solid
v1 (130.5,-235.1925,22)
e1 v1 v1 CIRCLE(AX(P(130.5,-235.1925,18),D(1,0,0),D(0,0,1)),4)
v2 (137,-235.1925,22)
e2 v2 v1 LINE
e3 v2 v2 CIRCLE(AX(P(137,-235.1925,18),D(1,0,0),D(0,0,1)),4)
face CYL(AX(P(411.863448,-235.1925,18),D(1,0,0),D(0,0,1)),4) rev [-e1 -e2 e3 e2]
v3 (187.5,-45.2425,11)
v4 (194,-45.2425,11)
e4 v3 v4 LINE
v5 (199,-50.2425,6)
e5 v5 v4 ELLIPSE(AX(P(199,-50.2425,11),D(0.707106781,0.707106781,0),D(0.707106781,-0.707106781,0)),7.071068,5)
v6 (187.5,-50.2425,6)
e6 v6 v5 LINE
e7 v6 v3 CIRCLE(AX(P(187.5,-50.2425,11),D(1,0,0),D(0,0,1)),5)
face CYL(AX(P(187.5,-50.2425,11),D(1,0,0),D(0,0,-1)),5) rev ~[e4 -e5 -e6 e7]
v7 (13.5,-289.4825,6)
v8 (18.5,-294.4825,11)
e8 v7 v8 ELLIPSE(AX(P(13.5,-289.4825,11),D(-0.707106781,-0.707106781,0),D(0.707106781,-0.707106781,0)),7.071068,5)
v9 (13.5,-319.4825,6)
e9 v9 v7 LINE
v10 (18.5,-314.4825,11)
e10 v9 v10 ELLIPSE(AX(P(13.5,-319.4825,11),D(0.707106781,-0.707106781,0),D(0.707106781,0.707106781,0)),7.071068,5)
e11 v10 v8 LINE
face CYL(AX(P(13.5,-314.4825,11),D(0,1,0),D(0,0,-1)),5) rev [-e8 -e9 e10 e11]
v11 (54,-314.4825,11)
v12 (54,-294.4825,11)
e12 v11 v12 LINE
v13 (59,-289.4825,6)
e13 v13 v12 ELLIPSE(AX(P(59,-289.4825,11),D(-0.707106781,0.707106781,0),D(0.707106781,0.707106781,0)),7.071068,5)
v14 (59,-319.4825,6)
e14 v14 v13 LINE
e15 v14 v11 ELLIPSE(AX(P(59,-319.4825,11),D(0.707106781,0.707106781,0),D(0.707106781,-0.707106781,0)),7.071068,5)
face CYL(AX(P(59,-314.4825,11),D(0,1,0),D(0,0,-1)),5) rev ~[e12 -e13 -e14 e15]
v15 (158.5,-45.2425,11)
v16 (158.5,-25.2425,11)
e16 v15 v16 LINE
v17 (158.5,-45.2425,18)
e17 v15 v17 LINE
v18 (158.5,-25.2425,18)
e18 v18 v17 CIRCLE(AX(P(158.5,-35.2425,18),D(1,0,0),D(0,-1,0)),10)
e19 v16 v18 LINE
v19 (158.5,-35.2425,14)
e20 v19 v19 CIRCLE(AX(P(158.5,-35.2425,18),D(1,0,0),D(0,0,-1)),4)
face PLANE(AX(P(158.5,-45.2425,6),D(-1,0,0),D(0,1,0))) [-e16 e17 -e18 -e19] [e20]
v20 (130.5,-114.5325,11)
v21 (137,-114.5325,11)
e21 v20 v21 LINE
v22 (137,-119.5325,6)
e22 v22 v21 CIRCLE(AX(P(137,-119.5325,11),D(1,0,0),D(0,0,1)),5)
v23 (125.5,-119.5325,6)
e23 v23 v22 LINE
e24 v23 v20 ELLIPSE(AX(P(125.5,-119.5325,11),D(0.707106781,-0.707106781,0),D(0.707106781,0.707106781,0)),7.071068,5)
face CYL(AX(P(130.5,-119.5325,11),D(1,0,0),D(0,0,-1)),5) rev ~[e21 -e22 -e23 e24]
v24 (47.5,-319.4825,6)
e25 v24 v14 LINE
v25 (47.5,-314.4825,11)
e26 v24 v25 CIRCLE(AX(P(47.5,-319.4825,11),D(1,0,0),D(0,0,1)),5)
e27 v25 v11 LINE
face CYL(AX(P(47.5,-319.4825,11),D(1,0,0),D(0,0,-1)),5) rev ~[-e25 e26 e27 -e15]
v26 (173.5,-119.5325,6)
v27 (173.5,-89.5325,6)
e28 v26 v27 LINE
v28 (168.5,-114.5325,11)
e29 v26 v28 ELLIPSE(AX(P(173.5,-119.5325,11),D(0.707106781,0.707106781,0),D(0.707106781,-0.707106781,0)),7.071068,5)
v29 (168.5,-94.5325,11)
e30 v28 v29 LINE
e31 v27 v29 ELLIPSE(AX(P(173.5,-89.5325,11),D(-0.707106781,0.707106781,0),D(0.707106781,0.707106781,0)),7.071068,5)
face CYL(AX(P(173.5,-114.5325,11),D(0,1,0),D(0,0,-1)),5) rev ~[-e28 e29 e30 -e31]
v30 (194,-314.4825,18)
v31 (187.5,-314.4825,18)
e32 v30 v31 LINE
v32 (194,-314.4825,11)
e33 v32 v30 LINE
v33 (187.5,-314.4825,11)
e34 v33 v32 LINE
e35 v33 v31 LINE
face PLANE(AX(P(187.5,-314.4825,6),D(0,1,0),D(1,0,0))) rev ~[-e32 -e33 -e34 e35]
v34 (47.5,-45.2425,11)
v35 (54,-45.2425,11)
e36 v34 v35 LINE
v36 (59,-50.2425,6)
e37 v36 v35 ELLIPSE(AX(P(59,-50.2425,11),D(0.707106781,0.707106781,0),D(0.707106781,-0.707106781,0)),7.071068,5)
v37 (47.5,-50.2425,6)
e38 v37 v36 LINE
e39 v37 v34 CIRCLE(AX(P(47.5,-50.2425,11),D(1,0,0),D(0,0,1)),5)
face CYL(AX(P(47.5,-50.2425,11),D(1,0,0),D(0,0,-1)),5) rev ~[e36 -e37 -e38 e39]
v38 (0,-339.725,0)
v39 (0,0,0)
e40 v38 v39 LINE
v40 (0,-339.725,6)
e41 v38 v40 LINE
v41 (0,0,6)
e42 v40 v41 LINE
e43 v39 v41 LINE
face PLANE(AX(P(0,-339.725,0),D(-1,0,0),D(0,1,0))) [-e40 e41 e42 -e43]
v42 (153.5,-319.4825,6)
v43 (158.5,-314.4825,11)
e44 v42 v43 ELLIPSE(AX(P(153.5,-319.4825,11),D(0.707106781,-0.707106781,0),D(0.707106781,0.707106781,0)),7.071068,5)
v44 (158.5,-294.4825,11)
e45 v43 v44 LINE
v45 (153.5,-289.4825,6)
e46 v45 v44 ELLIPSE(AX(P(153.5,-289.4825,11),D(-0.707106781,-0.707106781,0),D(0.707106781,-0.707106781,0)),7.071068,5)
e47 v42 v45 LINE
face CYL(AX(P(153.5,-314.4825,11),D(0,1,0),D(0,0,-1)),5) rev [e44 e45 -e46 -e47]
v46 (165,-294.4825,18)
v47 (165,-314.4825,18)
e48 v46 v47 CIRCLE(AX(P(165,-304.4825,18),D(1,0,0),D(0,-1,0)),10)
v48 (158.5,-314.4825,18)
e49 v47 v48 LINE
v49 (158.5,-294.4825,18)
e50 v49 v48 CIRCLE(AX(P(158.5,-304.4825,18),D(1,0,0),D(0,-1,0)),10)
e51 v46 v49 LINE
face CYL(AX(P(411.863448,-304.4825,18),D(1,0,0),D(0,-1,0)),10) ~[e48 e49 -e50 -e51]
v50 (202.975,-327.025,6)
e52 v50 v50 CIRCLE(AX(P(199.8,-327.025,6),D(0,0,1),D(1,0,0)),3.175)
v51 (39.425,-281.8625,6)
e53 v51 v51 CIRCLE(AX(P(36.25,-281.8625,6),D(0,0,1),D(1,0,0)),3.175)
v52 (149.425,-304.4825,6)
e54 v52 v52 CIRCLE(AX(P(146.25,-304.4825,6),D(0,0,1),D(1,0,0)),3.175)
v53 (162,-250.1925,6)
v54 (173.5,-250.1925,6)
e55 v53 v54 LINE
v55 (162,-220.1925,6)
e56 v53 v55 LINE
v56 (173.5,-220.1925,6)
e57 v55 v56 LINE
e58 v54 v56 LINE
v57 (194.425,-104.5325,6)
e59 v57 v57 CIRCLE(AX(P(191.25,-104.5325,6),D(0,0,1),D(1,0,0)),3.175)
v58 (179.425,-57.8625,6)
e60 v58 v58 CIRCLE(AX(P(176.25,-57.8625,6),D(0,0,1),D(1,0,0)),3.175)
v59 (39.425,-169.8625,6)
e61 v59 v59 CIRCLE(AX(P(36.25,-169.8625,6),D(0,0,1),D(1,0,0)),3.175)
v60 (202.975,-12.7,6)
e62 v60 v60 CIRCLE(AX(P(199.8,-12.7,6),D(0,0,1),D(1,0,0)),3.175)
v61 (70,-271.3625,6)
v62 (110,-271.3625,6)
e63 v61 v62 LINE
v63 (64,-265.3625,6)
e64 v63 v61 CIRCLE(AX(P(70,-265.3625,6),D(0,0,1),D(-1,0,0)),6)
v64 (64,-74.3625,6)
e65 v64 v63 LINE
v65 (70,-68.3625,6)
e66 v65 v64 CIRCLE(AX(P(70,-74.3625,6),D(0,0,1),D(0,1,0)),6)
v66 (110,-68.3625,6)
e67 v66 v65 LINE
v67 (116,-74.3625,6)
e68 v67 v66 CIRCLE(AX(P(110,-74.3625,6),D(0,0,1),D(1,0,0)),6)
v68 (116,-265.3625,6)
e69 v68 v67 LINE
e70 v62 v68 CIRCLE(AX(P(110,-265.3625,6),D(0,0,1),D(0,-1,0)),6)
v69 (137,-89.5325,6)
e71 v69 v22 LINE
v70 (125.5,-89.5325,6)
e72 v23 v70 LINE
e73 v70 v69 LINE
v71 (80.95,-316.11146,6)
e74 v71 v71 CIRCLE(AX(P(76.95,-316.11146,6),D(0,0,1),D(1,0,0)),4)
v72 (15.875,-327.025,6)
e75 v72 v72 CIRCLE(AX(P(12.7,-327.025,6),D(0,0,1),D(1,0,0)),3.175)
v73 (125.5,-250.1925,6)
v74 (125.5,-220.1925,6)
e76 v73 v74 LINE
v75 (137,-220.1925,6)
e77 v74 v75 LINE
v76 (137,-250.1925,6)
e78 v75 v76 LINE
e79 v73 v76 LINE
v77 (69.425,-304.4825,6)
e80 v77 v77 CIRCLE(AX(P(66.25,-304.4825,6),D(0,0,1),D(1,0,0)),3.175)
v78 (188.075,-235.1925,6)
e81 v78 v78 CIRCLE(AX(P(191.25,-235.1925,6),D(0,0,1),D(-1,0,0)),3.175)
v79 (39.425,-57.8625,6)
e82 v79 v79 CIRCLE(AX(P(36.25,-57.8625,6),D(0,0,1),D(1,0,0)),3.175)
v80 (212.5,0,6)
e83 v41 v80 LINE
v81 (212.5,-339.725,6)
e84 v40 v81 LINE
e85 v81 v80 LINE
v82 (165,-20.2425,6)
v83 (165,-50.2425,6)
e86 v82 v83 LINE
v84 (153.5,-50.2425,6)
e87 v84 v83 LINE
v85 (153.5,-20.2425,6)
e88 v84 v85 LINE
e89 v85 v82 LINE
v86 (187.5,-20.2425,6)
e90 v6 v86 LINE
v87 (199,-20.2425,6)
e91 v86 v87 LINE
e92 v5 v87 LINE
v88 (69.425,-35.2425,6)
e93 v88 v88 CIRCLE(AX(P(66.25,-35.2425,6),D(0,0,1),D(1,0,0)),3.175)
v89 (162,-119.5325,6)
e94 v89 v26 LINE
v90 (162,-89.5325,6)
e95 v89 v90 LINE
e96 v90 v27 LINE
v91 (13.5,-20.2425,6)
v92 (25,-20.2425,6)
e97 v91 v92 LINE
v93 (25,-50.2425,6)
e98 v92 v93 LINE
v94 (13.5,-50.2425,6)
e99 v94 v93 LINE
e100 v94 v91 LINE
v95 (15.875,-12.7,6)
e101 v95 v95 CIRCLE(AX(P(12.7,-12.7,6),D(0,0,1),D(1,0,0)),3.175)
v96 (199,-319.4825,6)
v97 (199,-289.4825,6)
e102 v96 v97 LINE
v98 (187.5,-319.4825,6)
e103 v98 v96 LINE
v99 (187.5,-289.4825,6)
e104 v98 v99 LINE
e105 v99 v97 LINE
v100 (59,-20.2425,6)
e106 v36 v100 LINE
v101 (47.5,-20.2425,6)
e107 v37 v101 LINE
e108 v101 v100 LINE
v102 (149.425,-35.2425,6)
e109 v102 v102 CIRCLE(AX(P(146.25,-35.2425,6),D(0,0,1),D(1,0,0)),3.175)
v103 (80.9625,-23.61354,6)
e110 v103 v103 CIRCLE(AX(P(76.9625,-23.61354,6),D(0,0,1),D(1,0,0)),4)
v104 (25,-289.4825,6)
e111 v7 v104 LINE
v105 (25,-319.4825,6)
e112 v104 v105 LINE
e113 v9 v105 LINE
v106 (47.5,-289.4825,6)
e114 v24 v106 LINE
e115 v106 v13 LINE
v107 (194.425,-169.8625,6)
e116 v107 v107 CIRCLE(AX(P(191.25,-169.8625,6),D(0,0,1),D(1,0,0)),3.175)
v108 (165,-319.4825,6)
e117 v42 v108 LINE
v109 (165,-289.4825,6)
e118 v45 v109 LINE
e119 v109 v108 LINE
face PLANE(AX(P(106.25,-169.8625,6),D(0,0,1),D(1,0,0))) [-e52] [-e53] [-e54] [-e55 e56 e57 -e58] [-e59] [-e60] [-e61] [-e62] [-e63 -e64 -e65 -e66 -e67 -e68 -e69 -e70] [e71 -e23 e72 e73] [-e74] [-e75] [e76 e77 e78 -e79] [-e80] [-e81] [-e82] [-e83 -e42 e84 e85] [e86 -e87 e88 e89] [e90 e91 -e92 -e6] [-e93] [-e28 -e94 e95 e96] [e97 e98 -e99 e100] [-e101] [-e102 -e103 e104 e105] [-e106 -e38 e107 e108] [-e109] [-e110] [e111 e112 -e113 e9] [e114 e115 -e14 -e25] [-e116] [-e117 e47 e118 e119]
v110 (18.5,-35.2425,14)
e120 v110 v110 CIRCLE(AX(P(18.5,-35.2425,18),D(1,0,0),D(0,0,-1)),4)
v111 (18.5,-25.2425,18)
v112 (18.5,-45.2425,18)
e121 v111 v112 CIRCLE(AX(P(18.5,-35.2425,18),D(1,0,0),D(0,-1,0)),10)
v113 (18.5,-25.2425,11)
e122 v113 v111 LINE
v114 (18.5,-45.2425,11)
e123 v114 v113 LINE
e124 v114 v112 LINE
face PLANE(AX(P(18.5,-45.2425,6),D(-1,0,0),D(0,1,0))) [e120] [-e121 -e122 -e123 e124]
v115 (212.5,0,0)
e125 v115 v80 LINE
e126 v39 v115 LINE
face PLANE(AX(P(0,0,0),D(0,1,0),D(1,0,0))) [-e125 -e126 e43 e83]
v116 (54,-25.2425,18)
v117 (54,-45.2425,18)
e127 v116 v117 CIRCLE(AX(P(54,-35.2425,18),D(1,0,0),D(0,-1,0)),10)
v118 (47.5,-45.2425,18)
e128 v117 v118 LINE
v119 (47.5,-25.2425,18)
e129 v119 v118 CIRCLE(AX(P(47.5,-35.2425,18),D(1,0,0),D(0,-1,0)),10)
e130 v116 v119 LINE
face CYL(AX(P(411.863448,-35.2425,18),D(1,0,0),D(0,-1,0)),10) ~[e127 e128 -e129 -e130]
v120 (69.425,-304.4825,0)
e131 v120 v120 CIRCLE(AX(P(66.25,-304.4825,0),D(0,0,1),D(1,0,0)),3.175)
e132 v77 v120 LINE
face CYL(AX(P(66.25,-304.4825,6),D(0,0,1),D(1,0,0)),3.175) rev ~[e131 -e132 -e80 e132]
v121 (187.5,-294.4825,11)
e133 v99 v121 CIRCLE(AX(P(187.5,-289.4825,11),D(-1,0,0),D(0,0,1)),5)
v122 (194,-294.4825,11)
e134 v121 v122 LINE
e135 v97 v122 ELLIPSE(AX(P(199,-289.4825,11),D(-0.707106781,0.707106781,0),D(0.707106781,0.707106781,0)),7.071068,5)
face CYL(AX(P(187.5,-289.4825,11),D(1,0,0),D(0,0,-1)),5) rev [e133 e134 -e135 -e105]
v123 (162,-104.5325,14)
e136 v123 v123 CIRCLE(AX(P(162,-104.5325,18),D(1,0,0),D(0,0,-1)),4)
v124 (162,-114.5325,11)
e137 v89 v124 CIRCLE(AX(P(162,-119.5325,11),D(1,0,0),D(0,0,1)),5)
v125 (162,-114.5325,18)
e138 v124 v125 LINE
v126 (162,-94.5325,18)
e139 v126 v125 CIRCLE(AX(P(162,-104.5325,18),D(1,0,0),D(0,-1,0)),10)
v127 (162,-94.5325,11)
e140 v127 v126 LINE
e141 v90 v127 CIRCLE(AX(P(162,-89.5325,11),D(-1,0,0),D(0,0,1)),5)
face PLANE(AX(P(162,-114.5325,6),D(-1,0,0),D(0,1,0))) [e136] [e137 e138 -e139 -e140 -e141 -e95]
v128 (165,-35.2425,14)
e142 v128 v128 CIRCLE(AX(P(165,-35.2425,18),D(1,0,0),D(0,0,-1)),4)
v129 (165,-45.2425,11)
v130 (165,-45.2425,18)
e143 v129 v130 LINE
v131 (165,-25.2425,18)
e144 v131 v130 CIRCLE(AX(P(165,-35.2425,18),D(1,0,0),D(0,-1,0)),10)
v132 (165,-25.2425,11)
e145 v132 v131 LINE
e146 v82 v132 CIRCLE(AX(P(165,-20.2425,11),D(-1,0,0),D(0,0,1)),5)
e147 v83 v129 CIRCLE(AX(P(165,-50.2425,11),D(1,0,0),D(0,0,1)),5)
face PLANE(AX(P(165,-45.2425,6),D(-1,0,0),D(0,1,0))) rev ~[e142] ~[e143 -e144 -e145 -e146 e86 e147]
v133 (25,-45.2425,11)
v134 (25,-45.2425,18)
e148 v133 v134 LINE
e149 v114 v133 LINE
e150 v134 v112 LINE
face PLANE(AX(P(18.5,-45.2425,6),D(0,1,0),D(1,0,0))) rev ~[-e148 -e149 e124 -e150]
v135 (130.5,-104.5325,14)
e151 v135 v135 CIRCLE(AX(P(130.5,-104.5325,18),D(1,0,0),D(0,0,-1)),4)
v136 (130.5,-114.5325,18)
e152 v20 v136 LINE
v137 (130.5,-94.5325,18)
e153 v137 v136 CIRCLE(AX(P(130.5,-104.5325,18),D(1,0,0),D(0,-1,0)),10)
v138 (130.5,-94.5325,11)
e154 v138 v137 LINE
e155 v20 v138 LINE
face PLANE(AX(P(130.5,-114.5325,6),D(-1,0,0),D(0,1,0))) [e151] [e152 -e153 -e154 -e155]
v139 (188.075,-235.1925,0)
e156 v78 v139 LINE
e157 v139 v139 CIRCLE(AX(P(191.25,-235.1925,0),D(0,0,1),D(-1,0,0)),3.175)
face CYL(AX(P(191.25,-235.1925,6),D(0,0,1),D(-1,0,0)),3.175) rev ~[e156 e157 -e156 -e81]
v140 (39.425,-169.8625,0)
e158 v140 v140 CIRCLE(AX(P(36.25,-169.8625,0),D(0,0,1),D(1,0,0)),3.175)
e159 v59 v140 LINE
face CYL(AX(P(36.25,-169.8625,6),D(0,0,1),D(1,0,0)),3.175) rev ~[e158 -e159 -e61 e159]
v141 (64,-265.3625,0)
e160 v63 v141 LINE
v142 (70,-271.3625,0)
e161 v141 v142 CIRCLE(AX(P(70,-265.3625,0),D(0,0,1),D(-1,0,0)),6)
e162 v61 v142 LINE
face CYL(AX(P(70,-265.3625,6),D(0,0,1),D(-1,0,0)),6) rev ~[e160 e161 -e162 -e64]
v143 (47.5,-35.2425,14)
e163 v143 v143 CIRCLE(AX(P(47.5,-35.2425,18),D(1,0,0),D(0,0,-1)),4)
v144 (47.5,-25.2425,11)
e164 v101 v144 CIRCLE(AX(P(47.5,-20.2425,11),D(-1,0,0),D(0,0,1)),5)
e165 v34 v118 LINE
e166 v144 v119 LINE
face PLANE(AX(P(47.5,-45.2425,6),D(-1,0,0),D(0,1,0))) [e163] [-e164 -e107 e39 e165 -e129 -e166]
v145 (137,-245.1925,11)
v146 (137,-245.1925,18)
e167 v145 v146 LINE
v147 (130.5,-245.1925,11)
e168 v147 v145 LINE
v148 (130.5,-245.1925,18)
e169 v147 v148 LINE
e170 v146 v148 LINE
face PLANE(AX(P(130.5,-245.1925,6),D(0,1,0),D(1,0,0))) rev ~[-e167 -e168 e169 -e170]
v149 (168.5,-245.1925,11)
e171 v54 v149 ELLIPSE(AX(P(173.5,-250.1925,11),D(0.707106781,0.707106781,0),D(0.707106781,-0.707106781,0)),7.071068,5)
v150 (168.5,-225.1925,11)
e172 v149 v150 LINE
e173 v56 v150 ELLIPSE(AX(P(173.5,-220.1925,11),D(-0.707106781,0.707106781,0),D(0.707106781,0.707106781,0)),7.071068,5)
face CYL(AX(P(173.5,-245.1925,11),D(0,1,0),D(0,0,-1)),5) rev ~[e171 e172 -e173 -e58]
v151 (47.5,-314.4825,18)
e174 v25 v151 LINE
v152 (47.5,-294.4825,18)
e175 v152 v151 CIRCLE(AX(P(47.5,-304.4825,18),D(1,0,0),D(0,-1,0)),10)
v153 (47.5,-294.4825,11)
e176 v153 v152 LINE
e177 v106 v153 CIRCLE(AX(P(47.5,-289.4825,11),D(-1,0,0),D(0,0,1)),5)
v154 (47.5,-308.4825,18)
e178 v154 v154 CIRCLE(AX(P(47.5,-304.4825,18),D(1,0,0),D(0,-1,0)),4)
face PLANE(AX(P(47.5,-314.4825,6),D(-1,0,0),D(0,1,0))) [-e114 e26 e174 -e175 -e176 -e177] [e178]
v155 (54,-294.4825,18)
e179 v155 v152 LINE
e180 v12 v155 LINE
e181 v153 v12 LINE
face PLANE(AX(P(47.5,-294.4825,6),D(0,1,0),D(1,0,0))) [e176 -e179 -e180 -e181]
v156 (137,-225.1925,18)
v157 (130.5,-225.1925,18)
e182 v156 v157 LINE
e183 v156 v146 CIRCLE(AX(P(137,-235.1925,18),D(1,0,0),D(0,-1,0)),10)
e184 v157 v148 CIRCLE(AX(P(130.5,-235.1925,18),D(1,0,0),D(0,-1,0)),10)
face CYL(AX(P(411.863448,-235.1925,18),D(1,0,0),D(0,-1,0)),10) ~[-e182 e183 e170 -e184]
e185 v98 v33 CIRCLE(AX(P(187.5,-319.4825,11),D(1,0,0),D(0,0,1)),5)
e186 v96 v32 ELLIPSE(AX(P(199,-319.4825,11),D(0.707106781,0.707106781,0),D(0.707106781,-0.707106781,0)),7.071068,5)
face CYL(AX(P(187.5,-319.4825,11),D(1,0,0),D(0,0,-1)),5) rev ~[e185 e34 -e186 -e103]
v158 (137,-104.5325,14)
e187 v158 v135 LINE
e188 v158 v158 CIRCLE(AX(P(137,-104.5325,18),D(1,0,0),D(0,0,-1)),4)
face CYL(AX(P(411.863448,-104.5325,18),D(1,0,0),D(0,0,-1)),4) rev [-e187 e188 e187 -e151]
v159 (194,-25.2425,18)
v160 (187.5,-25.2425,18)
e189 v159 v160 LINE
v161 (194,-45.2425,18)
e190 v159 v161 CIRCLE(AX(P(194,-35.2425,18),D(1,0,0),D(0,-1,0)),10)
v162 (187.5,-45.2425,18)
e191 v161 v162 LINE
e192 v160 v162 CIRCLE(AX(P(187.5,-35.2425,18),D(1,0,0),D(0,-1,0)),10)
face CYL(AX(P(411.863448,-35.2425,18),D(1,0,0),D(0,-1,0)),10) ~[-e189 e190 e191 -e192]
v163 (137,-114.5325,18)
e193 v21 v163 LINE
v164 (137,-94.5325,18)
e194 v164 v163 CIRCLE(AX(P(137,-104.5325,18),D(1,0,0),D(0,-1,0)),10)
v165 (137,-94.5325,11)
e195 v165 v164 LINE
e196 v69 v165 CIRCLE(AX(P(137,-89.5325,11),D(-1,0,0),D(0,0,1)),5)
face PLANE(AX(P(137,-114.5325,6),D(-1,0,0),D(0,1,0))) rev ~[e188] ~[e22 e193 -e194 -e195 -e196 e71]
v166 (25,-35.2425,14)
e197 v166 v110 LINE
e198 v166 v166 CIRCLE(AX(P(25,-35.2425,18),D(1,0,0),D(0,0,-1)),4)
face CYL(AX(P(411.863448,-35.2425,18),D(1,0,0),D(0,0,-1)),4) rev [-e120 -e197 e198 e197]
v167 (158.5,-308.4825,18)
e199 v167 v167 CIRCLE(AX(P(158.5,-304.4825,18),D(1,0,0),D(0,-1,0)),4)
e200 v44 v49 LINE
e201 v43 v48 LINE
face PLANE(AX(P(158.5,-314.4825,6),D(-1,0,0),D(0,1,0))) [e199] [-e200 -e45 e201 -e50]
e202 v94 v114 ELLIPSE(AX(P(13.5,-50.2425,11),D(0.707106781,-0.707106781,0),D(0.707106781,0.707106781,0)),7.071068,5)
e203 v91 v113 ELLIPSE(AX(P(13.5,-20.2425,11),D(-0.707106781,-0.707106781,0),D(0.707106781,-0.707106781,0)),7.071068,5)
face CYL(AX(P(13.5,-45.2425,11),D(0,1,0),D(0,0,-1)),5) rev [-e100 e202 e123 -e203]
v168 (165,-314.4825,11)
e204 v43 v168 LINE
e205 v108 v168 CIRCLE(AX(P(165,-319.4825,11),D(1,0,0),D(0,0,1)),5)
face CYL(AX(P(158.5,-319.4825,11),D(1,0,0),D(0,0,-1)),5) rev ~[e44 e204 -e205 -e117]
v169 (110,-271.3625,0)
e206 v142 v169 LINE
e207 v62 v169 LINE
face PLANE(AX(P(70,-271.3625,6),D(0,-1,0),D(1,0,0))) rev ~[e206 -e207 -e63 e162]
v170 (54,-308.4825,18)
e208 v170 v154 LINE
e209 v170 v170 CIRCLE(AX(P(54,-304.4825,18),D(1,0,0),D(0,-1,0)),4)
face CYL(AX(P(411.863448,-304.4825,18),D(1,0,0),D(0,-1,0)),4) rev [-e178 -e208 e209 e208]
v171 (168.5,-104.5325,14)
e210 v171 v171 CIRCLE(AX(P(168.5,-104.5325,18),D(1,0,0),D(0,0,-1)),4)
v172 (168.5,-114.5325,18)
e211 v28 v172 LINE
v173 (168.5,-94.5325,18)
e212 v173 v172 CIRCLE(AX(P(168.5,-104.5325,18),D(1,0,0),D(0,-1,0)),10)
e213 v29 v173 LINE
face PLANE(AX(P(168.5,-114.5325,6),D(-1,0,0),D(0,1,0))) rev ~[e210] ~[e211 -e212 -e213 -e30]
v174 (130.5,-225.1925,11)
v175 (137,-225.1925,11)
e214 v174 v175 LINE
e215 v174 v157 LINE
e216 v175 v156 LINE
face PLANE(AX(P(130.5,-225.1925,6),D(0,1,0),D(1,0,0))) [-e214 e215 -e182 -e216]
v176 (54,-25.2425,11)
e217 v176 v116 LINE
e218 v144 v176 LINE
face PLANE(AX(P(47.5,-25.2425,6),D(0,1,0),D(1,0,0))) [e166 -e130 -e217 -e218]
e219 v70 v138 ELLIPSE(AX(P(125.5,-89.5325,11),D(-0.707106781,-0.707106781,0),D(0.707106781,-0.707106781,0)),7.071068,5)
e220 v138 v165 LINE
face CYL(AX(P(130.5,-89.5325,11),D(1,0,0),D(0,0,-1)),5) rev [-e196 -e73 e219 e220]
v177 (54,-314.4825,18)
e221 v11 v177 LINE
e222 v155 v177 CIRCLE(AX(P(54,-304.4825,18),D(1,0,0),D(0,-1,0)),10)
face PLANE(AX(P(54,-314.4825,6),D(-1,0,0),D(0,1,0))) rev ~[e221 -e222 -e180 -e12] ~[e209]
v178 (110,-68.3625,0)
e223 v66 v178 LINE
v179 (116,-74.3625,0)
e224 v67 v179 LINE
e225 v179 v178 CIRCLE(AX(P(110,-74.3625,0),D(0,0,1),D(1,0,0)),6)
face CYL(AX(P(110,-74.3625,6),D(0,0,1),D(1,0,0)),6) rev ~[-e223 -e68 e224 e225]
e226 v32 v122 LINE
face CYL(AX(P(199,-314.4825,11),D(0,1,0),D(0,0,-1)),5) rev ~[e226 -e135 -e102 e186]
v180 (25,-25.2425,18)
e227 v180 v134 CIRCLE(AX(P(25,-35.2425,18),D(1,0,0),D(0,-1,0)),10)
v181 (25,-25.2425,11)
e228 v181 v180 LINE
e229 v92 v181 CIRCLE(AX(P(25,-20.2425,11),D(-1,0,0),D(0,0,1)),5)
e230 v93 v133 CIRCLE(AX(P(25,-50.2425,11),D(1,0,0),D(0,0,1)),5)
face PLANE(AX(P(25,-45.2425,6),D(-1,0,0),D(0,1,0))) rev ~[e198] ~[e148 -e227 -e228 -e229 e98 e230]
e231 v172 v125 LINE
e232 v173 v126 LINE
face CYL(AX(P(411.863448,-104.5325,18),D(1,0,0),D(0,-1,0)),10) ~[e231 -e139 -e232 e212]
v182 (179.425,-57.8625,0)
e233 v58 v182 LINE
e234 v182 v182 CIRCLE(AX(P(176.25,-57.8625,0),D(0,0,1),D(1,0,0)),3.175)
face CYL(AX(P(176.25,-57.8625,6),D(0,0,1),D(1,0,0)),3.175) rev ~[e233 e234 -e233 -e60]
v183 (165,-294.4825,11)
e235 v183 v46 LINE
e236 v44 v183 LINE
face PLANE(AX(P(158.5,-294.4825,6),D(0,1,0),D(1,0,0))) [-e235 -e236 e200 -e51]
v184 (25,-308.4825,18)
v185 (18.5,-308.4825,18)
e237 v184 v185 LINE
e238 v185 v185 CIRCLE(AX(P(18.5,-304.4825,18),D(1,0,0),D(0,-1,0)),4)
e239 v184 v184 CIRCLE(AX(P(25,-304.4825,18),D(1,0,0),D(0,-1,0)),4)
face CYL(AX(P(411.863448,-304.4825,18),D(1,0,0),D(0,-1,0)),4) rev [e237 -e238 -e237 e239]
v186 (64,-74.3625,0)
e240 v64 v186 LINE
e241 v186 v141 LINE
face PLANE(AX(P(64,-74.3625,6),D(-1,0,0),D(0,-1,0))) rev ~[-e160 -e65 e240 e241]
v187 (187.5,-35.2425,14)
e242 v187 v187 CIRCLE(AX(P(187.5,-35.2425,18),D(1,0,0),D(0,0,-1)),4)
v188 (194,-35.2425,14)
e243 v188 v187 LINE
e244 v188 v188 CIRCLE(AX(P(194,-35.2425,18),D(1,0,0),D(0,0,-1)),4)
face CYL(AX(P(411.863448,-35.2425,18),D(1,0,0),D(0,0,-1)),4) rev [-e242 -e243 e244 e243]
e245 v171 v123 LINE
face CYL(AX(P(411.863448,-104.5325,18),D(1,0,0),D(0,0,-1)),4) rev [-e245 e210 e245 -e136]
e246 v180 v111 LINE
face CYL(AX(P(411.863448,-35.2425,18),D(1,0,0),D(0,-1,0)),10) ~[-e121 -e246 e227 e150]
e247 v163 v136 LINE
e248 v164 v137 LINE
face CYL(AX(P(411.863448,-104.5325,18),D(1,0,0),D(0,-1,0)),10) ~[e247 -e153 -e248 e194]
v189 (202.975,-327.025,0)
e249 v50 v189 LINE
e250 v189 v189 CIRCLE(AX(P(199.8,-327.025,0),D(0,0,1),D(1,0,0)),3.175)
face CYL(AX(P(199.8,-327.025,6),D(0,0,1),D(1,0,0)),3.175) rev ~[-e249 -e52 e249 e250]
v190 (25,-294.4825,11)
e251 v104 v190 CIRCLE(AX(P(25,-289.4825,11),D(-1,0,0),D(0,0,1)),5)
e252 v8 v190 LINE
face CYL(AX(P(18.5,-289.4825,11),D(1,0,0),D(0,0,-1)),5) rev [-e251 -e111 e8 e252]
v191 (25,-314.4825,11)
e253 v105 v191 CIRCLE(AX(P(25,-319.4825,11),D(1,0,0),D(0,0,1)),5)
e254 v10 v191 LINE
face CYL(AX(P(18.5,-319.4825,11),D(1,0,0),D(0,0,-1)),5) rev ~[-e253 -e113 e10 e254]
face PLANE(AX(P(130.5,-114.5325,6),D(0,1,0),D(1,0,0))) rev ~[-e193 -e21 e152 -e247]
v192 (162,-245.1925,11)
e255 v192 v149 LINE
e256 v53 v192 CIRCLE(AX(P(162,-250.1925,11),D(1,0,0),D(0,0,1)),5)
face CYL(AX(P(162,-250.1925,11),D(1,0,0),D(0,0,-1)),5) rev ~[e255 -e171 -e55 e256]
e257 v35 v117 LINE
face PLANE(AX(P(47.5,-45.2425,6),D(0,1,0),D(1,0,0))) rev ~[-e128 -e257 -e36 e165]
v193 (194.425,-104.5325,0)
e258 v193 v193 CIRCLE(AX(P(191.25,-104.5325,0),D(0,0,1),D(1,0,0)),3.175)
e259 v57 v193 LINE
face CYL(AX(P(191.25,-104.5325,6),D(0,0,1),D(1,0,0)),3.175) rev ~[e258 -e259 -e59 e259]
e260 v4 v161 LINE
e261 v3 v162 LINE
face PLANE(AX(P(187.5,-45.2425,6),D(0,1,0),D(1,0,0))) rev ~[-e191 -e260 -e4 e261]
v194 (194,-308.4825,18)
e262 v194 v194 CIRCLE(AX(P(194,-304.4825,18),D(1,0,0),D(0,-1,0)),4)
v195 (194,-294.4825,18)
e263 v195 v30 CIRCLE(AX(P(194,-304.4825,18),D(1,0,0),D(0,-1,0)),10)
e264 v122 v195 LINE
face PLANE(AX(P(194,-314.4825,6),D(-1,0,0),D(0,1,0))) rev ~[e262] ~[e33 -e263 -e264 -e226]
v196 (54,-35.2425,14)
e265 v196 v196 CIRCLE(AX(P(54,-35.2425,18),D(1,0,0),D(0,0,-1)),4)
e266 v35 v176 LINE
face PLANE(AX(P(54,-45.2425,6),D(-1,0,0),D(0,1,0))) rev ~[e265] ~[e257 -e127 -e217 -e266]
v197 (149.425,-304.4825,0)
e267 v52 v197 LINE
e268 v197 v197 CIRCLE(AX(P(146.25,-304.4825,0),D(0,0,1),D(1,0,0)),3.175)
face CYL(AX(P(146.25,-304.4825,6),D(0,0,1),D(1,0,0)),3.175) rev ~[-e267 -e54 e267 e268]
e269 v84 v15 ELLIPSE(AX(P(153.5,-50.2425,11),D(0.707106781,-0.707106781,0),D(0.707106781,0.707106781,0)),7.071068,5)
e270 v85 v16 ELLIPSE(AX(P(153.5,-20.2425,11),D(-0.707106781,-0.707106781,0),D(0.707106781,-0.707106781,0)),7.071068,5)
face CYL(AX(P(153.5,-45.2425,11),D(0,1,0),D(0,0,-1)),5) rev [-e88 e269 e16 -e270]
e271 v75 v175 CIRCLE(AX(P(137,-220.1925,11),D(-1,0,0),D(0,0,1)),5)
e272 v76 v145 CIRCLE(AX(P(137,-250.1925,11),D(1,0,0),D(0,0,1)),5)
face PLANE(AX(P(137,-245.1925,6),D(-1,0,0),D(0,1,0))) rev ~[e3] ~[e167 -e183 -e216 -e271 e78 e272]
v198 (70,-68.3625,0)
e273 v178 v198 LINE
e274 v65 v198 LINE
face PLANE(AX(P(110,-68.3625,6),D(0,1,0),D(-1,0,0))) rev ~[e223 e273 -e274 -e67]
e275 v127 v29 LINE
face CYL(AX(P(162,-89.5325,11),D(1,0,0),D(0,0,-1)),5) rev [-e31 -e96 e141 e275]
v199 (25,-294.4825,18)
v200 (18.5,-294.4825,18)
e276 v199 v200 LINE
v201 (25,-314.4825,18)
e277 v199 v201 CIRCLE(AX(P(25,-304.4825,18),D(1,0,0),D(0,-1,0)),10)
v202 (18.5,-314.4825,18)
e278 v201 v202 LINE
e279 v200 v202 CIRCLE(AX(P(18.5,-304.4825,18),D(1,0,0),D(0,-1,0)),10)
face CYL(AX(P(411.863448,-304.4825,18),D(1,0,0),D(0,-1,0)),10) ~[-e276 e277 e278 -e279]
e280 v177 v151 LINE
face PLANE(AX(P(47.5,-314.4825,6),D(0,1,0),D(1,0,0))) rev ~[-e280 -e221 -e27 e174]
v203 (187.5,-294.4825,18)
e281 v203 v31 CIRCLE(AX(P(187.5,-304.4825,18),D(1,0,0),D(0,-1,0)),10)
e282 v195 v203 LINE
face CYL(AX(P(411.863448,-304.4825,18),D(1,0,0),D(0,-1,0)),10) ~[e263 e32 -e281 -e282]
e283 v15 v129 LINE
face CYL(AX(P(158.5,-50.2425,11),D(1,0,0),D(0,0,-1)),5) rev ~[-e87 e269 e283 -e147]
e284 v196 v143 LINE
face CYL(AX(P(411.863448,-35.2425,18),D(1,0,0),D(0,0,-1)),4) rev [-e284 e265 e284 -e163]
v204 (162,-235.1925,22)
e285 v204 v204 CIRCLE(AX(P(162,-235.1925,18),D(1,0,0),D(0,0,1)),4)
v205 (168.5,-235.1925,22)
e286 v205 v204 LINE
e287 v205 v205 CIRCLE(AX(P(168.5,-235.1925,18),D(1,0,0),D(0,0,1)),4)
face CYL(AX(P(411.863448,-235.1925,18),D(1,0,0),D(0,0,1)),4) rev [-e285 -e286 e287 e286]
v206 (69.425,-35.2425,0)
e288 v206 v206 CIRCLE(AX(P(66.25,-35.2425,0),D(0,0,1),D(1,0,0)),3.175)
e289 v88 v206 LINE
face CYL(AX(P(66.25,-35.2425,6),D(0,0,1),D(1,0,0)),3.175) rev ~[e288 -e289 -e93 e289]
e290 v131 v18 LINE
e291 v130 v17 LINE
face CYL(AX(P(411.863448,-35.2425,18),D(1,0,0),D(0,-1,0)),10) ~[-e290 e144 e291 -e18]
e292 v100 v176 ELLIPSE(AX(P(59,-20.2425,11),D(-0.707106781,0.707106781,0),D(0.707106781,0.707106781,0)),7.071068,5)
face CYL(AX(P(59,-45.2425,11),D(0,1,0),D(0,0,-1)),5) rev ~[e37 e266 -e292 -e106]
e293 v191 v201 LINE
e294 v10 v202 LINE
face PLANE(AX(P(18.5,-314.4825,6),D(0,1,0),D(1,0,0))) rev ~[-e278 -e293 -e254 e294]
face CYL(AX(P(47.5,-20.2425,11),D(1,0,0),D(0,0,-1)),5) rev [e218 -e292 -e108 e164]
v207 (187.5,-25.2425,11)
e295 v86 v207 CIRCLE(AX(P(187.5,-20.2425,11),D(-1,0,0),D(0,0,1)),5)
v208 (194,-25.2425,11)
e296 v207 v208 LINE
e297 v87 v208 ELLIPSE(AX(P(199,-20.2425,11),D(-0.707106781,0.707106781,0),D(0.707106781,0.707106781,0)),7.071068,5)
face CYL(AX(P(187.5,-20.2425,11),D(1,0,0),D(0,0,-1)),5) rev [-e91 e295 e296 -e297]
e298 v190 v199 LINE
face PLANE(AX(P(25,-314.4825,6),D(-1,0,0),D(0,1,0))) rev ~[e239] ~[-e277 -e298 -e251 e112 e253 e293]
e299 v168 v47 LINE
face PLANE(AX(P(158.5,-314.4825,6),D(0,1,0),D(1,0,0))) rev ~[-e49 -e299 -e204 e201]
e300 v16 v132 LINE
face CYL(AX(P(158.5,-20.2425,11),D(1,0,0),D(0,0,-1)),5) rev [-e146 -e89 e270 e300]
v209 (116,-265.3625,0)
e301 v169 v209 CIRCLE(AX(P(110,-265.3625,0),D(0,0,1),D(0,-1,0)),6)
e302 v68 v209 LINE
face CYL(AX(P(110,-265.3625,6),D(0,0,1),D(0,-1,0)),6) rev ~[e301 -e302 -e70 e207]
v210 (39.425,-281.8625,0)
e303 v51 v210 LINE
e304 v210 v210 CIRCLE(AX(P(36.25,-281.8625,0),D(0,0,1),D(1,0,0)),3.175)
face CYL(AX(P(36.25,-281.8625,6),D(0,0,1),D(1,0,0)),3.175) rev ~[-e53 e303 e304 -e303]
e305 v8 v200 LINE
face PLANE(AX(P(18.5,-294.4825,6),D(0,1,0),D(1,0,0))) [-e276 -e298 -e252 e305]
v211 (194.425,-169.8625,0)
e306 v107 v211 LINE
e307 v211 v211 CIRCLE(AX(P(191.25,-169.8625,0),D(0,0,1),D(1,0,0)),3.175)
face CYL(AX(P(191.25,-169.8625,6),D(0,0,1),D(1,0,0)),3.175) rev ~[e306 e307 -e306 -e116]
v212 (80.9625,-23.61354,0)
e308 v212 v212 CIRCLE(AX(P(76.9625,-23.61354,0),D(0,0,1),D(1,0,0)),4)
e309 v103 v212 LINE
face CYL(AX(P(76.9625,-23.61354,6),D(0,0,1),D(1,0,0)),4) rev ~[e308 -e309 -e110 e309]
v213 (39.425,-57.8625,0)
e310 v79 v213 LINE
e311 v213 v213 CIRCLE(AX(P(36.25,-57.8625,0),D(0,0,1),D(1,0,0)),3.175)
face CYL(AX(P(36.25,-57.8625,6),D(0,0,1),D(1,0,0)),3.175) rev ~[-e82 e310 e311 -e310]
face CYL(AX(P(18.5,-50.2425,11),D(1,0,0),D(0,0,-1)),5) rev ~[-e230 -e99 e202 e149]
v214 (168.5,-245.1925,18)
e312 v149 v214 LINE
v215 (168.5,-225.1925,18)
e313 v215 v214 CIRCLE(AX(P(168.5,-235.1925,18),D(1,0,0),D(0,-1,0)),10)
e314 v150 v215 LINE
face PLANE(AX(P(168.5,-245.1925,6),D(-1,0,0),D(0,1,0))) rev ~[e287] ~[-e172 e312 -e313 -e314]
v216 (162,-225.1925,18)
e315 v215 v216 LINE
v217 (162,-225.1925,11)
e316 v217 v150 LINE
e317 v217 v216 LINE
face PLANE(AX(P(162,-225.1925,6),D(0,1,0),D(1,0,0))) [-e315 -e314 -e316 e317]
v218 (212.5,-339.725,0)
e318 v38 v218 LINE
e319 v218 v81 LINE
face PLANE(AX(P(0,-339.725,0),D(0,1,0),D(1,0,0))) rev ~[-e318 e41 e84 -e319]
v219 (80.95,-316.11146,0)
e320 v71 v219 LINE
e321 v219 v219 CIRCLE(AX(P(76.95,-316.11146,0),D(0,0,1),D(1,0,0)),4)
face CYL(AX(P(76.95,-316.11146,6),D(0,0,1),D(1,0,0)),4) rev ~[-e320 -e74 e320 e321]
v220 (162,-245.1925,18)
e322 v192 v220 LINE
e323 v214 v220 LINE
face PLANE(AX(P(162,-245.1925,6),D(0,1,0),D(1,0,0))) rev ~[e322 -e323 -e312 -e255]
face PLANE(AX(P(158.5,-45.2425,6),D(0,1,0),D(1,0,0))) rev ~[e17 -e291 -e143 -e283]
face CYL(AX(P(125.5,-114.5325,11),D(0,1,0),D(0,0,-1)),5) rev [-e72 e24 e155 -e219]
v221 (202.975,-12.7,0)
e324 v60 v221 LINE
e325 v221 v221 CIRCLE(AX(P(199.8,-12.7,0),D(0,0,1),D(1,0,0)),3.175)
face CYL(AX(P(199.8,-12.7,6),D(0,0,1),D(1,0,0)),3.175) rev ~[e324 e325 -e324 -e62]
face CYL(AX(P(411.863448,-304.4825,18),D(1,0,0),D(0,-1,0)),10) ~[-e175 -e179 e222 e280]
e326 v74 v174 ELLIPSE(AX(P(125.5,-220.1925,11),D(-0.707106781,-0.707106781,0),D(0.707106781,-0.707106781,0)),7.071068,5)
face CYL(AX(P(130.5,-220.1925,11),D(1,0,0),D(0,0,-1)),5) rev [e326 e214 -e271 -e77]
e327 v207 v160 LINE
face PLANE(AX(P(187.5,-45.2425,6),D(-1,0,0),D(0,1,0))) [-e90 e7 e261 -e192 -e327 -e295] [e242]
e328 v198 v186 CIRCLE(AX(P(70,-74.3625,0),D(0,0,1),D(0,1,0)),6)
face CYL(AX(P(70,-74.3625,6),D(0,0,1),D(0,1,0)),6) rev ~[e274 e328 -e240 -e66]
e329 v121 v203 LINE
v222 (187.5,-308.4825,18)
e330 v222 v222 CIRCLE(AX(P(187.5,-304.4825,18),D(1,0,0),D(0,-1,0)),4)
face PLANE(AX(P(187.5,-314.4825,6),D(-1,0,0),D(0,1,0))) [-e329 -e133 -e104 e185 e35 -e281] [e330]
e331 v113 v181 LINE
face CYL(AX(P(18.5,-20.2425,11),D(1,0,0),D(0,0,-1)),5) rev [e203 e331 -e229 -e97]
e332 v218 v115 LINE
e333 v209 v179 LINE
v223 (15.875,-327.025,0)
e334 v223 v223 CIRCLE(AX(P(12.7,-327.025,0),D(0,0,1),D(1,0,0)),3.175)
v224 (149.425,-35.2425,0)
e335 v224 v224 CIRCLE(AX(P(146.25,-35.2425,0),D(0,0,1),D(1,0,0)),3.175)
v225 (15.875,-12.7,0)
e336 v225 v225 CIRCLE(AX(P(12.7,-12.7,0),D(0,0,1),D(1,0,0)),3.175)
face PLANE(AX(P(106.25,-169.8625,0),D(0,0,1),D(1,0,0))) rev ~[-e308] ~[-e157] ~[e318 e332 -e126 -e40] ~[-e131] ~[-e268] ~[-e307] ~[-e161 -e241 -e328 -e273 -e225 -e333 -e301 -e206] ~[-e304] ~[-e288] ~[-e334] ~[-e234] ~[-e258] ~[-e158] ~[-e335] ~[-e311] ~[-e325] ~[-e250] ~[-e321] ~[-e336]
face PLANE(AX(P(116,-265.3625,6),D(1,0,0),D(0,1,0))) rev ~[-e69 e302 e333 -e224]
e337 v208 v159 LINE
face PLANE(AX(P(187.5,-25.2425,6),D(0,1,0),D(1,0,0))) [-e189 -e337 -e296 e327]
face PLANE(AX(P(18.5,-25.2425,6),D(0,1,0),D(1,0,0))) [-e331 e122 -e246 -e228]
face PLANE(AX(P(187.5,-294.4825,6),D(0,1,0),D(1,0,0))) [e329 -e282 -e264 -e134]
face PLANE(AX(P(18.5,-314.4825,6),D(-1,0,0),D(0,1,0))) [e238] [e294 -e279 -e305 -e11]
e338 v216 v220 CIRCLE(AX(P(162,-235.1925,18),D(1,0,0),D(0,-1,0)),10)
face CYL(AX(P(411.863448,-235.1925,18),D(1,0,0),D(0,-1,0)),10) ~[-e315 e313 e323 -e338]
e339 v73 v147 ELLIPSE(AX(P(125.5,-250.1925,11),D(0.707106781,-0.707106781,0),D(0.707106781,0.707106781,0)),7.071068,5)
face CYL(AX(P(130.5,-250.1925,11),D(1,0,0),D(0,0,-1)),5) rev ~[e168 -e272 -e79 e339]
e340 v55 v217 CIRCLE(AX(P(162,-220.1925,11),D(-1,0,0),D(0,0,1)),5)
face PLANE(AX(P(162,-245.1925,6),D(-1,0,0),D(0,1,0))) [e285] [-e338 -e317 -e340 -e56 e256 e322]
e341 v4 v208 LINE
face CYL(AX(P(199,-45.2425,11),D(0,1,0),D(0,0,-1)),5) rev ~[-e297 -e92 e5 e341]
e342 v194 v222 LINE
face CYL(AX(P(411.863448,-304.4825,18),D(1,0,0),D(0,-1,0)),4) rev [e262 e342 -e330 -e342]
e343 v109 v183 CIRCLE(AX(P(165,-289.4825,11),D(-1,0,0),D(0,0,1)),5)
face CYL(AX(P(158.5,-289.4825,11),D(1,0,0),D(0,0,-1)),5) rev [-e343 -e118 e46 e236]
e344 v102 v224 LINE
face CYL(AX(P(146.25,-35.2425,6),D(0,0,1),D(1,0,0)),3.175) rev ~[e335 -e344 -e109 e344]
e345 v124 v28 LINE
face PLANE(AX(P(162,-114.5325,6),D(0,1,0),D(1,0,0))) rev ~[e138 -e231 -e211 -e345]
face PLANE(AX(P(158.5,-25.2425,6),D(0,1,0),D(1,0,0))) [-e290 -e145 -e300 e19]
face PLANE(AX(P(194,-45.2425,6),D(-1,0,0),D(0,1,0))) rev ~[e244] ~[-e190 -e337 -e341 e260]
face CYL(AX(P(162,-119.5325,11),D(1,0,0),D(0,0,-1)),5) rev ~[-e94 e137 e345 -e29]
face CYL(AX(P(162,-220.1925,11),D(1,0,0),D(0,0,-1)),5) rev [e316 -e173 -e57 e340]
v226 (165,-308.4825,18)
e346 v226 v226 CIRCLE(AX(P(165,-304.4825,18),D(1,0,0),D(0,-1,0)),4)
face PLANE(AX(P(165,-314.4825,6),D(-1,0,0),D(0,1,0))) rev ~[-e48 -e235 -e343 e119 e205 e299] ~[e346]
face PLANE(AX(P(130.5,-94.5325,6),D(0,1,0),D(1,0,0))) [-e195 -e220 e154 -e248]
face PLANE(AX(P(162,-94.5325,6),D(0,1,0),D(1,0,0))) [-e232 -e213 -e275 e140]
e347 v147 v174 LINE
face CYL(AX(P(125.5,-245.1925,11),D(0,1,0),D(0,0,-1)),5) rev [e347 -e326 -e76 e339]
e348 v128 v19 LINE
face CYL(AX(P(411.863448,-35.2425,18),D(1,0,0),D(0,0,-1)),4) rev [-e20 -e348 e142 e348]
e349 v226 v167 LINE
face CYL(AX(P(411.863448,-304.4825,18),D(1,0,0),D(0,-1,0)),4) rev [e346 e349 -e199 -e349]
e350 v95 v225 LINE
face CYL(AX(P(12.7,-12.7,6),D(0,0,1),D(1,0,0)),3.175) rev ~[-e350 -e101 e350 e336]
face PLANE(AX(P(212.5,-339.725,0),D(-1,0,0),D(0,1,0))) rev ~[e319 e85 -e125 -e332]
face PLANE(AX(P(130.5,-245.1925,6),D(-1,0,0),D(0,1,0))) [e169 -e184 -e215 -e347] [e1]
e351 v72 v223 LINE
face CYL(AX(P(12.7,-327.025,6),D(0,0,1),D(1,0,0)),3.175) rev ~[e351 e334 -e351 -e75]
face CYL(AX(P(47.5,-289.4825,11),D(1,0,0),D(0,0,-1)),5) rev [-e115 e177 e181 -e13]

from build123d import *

# Parameters (mm, degrees)
SKETCH1_W               = 212.5
SKETCH1_H               = 339.725
BOSS_EXTRUDE1_DEPTH     = 6
SKETCH2_W               = 6.5
SKETCH2_H               = 20
BOSS_EXTRUDE2_DEPTH     = 24
CUT_EXTRUDE1_DEPTH      = 393.36344838
CUT_EXTRUDE1_DEPTH_BACK = 393.36344838
SKETCH3_R               = 4
FILLET2_R               = 5
SKETCH5_R               = 3.175
CUT_EXTRUDE2_DEPTH      = 402.314497153
CUT_EXTRUDE3_DEPTH      = 402.314497153
SKETCH10_R              = 4
CUT_EXTRUDE4_DEPTH      = 18
SKETCH11_R              = 4
CUT_EXTRUDE5_DEPTH      = 14.986


with BuildPart() as part:
    # Sketch1 → Boss-Extrude1 (new body)
    with BuildSketch(Plane.XY):
        with Locations((106.25, -169.8625)):
            Rectangle(SKETCH1_W, SKETCH1_H)
    extrude(amount=BOSS_EXTRUDE1_DEPTH)

    # Sketch2 → Boss-Extrude2 (add)
    with BuildSketch(Plane.XY.offset(6)):
        with Locations((21.75, -35.2425)):
            Rectangle(SKETCH2_W, SKETCH2_H)
        with Locations((50.75, -35.2425)):
            Rectangle(SKETCH2_W, SKETCH2_H)
        with Locations((161.75, -35.2425)):
            Rectangle(SKETCH2_W, SKETCH2_H)
        with Locations((190.75, -35.2425)):
            Rectangle(SKETCH2_W, SKETCH2_H)
        with Locations((133.75, -104.5325)):
            Rectangle(SKETCH2_W, SKETCH2_H)
        with Locations((165.25, -104.5325)):
            Rectangle(SKETCH2_W, SKETCH2_H)
        with Locations((165.25, -235.1925)):
            Rectangle(SKETCH2_W, SKETCH2_H)
        with Locations((21.75, -304.4825)):
            Rectangle(SKETCH2_W, SKETCH2_H)
        with Locations((50.75, -304.4825)):
            Rectangle(SKETCH2_W, SKETCH2_H)
        with Locations((190.75, -304.4825)):
            Rectangle(SKETCH2_W, SKETCH2_H)
        with Locations((161.75, -304.4825)):
            Rectangle(SKETCH2_W, SKETCH2_H)
        with Locations((133.75, -235.1925)):
            Rectangle(SKETCH2_W, SKETCH2_H)
    extrude(amount=BOSS_EXTRUDE2_DEPTH)

    # Sketch3 → Cut-Extrude1 (cut, two sides: drawn at the far end of the back side and taken through both)
    with BuildSketch(Plane.ZY.offset(-18.5).offset(-CUT_EXTRUDE1_DEPTH_BACK)):
        with Locations((18, -35.2425)):
            Circle(SKETCH3_R)
        with Locations((18, -235.1925)):
            Circle(SKETCH3_R)
        with Locations((18, -304.4825)):
            Circle(SKETCH3_R)
        with Locations((18, -104.5325)):
            Circle(SKETCH3_R)
        with BuildLine():
            Line((18, -25.2425), (18, -12.982943413))
            Line((18, -12.982943413), (51.949532367, -12.982943413))
            Line((51.949532367, -12.982943413), (51.949532367, -57.481006387))
            Line((51.949532367, -57.481006387), (18, -57.481006387))
            Line((18, -57.481006387), (18, -45.2425))
            ThreePointArc((18, -45.2425), (28, -35.2425), (18, -25.2425))
        make_face()
        with BuildLine():
            Line((52.442304634, -132.399123951), (18, -132.399123951))
            Line((18, -132.399123951), (18, -114.5325))
            ThreePointArc((18, -114.5325), (28, -104.5325), (18, -94.5325))
            Line((18, -94.5325), (18, -71.59149594))
            Line((18, -71.59149594), (52.442304634, -71.59149594))
            Line((52.442304634, -71.59149594), (52.442304634, -132.399123951))
        make_face()
        with BuildLine():
            Line((52.599532243, -270.375386727), (18, -270.375386727))
            Line((18, -270.375386727), (18, -245.1925))
            ThreePointArc((18, -245.1925), (28, -235.1925), (18, -225.1925))
            Line((18, -225.1925), (18, -207.306351849))
            Line((18, -207.306351849), (52.599532243, -207.306351849))
            Line((52.599532243, -207.306351849), (52.599532243, -270.375386727))
        make_face()
        with BuildLine():
            Line((52.621034016, -326.721115515), (18, -326.721115515))
            Line((18, -326.721115515), (18, -314.4825))
            ThreePointArc((18, -314.4825), (28, -304.4825), (18, -294.4825))
            Line((18, -294.4825), (18, -282.222834285))
            Line((18, -282.222834285), (52.621034016, -282.222834285))
            Line((52.621034016, -282.222834285), (52.621034016, -326.721115515))
        make_face()
    extrude(amount=CUT_EXTRUDE1_DEPTH + CUT_EXTRUDE1_DEPTH_BACK, mode=Mode.SUBTRACT)

    # Fillet2
    fillet2_edges = [part.edges().sort_by_distance(p)[0] for p in [
        (158.5, -304.4825, 6),
        (18.5, -304.4825, 6),
        (21.75, -45.2425, 6),
        (18.5, -35.2425, 6),
        (21.75, -25.2425, 6),
        (50.75, -25.2425, 6),
        (50.75, -45.2425, 6),
        (54, -35.2425, 6),
        (161.75, -25.2425, 6),
        (190.75, -25.2425, 6),
        (194, -35.2425, 6),
        (190.75, -45.2425, 6),
        (161.75, -45.2425, 6),
        (158.5, -35.2425, 6),
        (168.5, -104.5325, 6),
        (165.25, -114.5325, 6),
        (133.75, -114.5325, 6),
        (130.5, -104.5325, 6),
        (165.25, -94.5325, 6),
        (133.75, -94.5325, 6),
        (21.75, -294.4825, 6),
        (50.75, -294.4825, 6),
        (54, -304.4825, 6),
        (194, -304.4825, 6),
        (161.75, -294.4825, 6),
        (190.75, -294.4825, 6),
        (190.75, -314.4825, 6),
        (161.75, -314.4825, 6),
        (50.75, -314.4825, 6),
        (21.75, -314.4825, 6),
        (165.25, -225.1925, 6),
        (133.75, -225.1925, 6),
        (130.5, -235.1925, 6),
        (133.75, -245.1925, 6),
        (165.25, -245.1925, 6),
        (168.5, -235.1925, 6),
    ]]
    fillet(fillet2_edges, radius=FILLET2_R)

    # Sketch5 → Cut-Extrude2 (cut, through all)
    with BuildSketch(Plane.XY.offset(6)):
        with Locations((12.7, -12.7)):
            Circle(SKETCH5_R)
        with Locations((199.8, -12.7)):
            Circle(SKETCH5_R)
        with Locations((66.25, -35.2425)):
            Circle(SKETCH5_R)
        with Locations((146.25, -35.2425)):
            Circle(SKETCH5_R)
        with Locations((176.25, -57.8625)):
            Circle(SKETCH5_R)
        with Locations((36.25, -57.8625)):
            Circle(SKETCH5_R)
        with Locations((191.25, -104.5325)):
            Circle(SKETCH5_R)
        with Locations((36.25, -169.8625)):
            Circle(SKETCH5_R)
        with Locations((191.25, -169.8625)):
            Circle(SKETCH5_R)
        with Locations((36.25, -281.8625)):
            Circle(SKETCH5_R)
        with Locations((66.25, -304.4825)):
            Circle(SKETCH5_R)
        with Locations((12.7, -327.025)):
            Circle(SKETCH5_R)
        with Locations((199.8, -327.025)):
            Circle(SKETCH5_R)
        with Locations((146.25, -304.4825)):
            Circle(SKETCH5_R)
        with Locations((191.25, -235.1925)):
            Circle(SKETCH5_R)
    extrude(amount=-CUT_EXTRUDE2_DEPTH, mode=Mode.SUBTRACT)

    # Sketch9 → Cut-Extrude3 (cut, through all)
    with BuildSketch(Plane.XY.offset(6)):
        with BuildLine():
            ThreePointArc((64, -265.3625), (65.757359313, -269.605140687), (70, -271.3625))
            Line((70, -271.3625), (110, -271.3625))
            ThreePointArc((110, -271.3625), (114.242640687, -269.605140687), (116, -265.3625))
            Line((116, -265.3625), (116, -74.3625))
            ThreePointArc((116, -74.3625), (114.242640687, -70.119859313), (110, -68.3625))
            Line((110, -68.3625), (70, -68.3625))
            ThreePointArc((70, -68.3625), (65.757359313, -70.119859313), (64, -74.3625))
            Line((64, -74.3625), (64, -265.3625))
        make_face()
    extrude(amount=-CUT_EXTRUDE3_DEPTH, mode=Mode.SUBTRACT)

    # Sketch10 → Cut-Extrude4 (cut)
    with BuildSketch(Plane.XY.offset(6)):
        with Locations((76.95, -316.111459893)):
            Circle(SKETCH10_R)
    extrude(amount=-CUT_EXTRUDE4_DEPTH, mode=Mode.SUBTRACT)

    # Sketch11 → Cut-Extrude5 (cut)
    with BuildSketch(Plane.XY.offset(6)):
        with Locations((76.9625, -23.613540107)):
            Circle(SKETCH11_R)
    extrude(amount=-CUT_EXTRUDE5_DEPTH, mode=Mode.SUBTRACT)


solid = part.part
